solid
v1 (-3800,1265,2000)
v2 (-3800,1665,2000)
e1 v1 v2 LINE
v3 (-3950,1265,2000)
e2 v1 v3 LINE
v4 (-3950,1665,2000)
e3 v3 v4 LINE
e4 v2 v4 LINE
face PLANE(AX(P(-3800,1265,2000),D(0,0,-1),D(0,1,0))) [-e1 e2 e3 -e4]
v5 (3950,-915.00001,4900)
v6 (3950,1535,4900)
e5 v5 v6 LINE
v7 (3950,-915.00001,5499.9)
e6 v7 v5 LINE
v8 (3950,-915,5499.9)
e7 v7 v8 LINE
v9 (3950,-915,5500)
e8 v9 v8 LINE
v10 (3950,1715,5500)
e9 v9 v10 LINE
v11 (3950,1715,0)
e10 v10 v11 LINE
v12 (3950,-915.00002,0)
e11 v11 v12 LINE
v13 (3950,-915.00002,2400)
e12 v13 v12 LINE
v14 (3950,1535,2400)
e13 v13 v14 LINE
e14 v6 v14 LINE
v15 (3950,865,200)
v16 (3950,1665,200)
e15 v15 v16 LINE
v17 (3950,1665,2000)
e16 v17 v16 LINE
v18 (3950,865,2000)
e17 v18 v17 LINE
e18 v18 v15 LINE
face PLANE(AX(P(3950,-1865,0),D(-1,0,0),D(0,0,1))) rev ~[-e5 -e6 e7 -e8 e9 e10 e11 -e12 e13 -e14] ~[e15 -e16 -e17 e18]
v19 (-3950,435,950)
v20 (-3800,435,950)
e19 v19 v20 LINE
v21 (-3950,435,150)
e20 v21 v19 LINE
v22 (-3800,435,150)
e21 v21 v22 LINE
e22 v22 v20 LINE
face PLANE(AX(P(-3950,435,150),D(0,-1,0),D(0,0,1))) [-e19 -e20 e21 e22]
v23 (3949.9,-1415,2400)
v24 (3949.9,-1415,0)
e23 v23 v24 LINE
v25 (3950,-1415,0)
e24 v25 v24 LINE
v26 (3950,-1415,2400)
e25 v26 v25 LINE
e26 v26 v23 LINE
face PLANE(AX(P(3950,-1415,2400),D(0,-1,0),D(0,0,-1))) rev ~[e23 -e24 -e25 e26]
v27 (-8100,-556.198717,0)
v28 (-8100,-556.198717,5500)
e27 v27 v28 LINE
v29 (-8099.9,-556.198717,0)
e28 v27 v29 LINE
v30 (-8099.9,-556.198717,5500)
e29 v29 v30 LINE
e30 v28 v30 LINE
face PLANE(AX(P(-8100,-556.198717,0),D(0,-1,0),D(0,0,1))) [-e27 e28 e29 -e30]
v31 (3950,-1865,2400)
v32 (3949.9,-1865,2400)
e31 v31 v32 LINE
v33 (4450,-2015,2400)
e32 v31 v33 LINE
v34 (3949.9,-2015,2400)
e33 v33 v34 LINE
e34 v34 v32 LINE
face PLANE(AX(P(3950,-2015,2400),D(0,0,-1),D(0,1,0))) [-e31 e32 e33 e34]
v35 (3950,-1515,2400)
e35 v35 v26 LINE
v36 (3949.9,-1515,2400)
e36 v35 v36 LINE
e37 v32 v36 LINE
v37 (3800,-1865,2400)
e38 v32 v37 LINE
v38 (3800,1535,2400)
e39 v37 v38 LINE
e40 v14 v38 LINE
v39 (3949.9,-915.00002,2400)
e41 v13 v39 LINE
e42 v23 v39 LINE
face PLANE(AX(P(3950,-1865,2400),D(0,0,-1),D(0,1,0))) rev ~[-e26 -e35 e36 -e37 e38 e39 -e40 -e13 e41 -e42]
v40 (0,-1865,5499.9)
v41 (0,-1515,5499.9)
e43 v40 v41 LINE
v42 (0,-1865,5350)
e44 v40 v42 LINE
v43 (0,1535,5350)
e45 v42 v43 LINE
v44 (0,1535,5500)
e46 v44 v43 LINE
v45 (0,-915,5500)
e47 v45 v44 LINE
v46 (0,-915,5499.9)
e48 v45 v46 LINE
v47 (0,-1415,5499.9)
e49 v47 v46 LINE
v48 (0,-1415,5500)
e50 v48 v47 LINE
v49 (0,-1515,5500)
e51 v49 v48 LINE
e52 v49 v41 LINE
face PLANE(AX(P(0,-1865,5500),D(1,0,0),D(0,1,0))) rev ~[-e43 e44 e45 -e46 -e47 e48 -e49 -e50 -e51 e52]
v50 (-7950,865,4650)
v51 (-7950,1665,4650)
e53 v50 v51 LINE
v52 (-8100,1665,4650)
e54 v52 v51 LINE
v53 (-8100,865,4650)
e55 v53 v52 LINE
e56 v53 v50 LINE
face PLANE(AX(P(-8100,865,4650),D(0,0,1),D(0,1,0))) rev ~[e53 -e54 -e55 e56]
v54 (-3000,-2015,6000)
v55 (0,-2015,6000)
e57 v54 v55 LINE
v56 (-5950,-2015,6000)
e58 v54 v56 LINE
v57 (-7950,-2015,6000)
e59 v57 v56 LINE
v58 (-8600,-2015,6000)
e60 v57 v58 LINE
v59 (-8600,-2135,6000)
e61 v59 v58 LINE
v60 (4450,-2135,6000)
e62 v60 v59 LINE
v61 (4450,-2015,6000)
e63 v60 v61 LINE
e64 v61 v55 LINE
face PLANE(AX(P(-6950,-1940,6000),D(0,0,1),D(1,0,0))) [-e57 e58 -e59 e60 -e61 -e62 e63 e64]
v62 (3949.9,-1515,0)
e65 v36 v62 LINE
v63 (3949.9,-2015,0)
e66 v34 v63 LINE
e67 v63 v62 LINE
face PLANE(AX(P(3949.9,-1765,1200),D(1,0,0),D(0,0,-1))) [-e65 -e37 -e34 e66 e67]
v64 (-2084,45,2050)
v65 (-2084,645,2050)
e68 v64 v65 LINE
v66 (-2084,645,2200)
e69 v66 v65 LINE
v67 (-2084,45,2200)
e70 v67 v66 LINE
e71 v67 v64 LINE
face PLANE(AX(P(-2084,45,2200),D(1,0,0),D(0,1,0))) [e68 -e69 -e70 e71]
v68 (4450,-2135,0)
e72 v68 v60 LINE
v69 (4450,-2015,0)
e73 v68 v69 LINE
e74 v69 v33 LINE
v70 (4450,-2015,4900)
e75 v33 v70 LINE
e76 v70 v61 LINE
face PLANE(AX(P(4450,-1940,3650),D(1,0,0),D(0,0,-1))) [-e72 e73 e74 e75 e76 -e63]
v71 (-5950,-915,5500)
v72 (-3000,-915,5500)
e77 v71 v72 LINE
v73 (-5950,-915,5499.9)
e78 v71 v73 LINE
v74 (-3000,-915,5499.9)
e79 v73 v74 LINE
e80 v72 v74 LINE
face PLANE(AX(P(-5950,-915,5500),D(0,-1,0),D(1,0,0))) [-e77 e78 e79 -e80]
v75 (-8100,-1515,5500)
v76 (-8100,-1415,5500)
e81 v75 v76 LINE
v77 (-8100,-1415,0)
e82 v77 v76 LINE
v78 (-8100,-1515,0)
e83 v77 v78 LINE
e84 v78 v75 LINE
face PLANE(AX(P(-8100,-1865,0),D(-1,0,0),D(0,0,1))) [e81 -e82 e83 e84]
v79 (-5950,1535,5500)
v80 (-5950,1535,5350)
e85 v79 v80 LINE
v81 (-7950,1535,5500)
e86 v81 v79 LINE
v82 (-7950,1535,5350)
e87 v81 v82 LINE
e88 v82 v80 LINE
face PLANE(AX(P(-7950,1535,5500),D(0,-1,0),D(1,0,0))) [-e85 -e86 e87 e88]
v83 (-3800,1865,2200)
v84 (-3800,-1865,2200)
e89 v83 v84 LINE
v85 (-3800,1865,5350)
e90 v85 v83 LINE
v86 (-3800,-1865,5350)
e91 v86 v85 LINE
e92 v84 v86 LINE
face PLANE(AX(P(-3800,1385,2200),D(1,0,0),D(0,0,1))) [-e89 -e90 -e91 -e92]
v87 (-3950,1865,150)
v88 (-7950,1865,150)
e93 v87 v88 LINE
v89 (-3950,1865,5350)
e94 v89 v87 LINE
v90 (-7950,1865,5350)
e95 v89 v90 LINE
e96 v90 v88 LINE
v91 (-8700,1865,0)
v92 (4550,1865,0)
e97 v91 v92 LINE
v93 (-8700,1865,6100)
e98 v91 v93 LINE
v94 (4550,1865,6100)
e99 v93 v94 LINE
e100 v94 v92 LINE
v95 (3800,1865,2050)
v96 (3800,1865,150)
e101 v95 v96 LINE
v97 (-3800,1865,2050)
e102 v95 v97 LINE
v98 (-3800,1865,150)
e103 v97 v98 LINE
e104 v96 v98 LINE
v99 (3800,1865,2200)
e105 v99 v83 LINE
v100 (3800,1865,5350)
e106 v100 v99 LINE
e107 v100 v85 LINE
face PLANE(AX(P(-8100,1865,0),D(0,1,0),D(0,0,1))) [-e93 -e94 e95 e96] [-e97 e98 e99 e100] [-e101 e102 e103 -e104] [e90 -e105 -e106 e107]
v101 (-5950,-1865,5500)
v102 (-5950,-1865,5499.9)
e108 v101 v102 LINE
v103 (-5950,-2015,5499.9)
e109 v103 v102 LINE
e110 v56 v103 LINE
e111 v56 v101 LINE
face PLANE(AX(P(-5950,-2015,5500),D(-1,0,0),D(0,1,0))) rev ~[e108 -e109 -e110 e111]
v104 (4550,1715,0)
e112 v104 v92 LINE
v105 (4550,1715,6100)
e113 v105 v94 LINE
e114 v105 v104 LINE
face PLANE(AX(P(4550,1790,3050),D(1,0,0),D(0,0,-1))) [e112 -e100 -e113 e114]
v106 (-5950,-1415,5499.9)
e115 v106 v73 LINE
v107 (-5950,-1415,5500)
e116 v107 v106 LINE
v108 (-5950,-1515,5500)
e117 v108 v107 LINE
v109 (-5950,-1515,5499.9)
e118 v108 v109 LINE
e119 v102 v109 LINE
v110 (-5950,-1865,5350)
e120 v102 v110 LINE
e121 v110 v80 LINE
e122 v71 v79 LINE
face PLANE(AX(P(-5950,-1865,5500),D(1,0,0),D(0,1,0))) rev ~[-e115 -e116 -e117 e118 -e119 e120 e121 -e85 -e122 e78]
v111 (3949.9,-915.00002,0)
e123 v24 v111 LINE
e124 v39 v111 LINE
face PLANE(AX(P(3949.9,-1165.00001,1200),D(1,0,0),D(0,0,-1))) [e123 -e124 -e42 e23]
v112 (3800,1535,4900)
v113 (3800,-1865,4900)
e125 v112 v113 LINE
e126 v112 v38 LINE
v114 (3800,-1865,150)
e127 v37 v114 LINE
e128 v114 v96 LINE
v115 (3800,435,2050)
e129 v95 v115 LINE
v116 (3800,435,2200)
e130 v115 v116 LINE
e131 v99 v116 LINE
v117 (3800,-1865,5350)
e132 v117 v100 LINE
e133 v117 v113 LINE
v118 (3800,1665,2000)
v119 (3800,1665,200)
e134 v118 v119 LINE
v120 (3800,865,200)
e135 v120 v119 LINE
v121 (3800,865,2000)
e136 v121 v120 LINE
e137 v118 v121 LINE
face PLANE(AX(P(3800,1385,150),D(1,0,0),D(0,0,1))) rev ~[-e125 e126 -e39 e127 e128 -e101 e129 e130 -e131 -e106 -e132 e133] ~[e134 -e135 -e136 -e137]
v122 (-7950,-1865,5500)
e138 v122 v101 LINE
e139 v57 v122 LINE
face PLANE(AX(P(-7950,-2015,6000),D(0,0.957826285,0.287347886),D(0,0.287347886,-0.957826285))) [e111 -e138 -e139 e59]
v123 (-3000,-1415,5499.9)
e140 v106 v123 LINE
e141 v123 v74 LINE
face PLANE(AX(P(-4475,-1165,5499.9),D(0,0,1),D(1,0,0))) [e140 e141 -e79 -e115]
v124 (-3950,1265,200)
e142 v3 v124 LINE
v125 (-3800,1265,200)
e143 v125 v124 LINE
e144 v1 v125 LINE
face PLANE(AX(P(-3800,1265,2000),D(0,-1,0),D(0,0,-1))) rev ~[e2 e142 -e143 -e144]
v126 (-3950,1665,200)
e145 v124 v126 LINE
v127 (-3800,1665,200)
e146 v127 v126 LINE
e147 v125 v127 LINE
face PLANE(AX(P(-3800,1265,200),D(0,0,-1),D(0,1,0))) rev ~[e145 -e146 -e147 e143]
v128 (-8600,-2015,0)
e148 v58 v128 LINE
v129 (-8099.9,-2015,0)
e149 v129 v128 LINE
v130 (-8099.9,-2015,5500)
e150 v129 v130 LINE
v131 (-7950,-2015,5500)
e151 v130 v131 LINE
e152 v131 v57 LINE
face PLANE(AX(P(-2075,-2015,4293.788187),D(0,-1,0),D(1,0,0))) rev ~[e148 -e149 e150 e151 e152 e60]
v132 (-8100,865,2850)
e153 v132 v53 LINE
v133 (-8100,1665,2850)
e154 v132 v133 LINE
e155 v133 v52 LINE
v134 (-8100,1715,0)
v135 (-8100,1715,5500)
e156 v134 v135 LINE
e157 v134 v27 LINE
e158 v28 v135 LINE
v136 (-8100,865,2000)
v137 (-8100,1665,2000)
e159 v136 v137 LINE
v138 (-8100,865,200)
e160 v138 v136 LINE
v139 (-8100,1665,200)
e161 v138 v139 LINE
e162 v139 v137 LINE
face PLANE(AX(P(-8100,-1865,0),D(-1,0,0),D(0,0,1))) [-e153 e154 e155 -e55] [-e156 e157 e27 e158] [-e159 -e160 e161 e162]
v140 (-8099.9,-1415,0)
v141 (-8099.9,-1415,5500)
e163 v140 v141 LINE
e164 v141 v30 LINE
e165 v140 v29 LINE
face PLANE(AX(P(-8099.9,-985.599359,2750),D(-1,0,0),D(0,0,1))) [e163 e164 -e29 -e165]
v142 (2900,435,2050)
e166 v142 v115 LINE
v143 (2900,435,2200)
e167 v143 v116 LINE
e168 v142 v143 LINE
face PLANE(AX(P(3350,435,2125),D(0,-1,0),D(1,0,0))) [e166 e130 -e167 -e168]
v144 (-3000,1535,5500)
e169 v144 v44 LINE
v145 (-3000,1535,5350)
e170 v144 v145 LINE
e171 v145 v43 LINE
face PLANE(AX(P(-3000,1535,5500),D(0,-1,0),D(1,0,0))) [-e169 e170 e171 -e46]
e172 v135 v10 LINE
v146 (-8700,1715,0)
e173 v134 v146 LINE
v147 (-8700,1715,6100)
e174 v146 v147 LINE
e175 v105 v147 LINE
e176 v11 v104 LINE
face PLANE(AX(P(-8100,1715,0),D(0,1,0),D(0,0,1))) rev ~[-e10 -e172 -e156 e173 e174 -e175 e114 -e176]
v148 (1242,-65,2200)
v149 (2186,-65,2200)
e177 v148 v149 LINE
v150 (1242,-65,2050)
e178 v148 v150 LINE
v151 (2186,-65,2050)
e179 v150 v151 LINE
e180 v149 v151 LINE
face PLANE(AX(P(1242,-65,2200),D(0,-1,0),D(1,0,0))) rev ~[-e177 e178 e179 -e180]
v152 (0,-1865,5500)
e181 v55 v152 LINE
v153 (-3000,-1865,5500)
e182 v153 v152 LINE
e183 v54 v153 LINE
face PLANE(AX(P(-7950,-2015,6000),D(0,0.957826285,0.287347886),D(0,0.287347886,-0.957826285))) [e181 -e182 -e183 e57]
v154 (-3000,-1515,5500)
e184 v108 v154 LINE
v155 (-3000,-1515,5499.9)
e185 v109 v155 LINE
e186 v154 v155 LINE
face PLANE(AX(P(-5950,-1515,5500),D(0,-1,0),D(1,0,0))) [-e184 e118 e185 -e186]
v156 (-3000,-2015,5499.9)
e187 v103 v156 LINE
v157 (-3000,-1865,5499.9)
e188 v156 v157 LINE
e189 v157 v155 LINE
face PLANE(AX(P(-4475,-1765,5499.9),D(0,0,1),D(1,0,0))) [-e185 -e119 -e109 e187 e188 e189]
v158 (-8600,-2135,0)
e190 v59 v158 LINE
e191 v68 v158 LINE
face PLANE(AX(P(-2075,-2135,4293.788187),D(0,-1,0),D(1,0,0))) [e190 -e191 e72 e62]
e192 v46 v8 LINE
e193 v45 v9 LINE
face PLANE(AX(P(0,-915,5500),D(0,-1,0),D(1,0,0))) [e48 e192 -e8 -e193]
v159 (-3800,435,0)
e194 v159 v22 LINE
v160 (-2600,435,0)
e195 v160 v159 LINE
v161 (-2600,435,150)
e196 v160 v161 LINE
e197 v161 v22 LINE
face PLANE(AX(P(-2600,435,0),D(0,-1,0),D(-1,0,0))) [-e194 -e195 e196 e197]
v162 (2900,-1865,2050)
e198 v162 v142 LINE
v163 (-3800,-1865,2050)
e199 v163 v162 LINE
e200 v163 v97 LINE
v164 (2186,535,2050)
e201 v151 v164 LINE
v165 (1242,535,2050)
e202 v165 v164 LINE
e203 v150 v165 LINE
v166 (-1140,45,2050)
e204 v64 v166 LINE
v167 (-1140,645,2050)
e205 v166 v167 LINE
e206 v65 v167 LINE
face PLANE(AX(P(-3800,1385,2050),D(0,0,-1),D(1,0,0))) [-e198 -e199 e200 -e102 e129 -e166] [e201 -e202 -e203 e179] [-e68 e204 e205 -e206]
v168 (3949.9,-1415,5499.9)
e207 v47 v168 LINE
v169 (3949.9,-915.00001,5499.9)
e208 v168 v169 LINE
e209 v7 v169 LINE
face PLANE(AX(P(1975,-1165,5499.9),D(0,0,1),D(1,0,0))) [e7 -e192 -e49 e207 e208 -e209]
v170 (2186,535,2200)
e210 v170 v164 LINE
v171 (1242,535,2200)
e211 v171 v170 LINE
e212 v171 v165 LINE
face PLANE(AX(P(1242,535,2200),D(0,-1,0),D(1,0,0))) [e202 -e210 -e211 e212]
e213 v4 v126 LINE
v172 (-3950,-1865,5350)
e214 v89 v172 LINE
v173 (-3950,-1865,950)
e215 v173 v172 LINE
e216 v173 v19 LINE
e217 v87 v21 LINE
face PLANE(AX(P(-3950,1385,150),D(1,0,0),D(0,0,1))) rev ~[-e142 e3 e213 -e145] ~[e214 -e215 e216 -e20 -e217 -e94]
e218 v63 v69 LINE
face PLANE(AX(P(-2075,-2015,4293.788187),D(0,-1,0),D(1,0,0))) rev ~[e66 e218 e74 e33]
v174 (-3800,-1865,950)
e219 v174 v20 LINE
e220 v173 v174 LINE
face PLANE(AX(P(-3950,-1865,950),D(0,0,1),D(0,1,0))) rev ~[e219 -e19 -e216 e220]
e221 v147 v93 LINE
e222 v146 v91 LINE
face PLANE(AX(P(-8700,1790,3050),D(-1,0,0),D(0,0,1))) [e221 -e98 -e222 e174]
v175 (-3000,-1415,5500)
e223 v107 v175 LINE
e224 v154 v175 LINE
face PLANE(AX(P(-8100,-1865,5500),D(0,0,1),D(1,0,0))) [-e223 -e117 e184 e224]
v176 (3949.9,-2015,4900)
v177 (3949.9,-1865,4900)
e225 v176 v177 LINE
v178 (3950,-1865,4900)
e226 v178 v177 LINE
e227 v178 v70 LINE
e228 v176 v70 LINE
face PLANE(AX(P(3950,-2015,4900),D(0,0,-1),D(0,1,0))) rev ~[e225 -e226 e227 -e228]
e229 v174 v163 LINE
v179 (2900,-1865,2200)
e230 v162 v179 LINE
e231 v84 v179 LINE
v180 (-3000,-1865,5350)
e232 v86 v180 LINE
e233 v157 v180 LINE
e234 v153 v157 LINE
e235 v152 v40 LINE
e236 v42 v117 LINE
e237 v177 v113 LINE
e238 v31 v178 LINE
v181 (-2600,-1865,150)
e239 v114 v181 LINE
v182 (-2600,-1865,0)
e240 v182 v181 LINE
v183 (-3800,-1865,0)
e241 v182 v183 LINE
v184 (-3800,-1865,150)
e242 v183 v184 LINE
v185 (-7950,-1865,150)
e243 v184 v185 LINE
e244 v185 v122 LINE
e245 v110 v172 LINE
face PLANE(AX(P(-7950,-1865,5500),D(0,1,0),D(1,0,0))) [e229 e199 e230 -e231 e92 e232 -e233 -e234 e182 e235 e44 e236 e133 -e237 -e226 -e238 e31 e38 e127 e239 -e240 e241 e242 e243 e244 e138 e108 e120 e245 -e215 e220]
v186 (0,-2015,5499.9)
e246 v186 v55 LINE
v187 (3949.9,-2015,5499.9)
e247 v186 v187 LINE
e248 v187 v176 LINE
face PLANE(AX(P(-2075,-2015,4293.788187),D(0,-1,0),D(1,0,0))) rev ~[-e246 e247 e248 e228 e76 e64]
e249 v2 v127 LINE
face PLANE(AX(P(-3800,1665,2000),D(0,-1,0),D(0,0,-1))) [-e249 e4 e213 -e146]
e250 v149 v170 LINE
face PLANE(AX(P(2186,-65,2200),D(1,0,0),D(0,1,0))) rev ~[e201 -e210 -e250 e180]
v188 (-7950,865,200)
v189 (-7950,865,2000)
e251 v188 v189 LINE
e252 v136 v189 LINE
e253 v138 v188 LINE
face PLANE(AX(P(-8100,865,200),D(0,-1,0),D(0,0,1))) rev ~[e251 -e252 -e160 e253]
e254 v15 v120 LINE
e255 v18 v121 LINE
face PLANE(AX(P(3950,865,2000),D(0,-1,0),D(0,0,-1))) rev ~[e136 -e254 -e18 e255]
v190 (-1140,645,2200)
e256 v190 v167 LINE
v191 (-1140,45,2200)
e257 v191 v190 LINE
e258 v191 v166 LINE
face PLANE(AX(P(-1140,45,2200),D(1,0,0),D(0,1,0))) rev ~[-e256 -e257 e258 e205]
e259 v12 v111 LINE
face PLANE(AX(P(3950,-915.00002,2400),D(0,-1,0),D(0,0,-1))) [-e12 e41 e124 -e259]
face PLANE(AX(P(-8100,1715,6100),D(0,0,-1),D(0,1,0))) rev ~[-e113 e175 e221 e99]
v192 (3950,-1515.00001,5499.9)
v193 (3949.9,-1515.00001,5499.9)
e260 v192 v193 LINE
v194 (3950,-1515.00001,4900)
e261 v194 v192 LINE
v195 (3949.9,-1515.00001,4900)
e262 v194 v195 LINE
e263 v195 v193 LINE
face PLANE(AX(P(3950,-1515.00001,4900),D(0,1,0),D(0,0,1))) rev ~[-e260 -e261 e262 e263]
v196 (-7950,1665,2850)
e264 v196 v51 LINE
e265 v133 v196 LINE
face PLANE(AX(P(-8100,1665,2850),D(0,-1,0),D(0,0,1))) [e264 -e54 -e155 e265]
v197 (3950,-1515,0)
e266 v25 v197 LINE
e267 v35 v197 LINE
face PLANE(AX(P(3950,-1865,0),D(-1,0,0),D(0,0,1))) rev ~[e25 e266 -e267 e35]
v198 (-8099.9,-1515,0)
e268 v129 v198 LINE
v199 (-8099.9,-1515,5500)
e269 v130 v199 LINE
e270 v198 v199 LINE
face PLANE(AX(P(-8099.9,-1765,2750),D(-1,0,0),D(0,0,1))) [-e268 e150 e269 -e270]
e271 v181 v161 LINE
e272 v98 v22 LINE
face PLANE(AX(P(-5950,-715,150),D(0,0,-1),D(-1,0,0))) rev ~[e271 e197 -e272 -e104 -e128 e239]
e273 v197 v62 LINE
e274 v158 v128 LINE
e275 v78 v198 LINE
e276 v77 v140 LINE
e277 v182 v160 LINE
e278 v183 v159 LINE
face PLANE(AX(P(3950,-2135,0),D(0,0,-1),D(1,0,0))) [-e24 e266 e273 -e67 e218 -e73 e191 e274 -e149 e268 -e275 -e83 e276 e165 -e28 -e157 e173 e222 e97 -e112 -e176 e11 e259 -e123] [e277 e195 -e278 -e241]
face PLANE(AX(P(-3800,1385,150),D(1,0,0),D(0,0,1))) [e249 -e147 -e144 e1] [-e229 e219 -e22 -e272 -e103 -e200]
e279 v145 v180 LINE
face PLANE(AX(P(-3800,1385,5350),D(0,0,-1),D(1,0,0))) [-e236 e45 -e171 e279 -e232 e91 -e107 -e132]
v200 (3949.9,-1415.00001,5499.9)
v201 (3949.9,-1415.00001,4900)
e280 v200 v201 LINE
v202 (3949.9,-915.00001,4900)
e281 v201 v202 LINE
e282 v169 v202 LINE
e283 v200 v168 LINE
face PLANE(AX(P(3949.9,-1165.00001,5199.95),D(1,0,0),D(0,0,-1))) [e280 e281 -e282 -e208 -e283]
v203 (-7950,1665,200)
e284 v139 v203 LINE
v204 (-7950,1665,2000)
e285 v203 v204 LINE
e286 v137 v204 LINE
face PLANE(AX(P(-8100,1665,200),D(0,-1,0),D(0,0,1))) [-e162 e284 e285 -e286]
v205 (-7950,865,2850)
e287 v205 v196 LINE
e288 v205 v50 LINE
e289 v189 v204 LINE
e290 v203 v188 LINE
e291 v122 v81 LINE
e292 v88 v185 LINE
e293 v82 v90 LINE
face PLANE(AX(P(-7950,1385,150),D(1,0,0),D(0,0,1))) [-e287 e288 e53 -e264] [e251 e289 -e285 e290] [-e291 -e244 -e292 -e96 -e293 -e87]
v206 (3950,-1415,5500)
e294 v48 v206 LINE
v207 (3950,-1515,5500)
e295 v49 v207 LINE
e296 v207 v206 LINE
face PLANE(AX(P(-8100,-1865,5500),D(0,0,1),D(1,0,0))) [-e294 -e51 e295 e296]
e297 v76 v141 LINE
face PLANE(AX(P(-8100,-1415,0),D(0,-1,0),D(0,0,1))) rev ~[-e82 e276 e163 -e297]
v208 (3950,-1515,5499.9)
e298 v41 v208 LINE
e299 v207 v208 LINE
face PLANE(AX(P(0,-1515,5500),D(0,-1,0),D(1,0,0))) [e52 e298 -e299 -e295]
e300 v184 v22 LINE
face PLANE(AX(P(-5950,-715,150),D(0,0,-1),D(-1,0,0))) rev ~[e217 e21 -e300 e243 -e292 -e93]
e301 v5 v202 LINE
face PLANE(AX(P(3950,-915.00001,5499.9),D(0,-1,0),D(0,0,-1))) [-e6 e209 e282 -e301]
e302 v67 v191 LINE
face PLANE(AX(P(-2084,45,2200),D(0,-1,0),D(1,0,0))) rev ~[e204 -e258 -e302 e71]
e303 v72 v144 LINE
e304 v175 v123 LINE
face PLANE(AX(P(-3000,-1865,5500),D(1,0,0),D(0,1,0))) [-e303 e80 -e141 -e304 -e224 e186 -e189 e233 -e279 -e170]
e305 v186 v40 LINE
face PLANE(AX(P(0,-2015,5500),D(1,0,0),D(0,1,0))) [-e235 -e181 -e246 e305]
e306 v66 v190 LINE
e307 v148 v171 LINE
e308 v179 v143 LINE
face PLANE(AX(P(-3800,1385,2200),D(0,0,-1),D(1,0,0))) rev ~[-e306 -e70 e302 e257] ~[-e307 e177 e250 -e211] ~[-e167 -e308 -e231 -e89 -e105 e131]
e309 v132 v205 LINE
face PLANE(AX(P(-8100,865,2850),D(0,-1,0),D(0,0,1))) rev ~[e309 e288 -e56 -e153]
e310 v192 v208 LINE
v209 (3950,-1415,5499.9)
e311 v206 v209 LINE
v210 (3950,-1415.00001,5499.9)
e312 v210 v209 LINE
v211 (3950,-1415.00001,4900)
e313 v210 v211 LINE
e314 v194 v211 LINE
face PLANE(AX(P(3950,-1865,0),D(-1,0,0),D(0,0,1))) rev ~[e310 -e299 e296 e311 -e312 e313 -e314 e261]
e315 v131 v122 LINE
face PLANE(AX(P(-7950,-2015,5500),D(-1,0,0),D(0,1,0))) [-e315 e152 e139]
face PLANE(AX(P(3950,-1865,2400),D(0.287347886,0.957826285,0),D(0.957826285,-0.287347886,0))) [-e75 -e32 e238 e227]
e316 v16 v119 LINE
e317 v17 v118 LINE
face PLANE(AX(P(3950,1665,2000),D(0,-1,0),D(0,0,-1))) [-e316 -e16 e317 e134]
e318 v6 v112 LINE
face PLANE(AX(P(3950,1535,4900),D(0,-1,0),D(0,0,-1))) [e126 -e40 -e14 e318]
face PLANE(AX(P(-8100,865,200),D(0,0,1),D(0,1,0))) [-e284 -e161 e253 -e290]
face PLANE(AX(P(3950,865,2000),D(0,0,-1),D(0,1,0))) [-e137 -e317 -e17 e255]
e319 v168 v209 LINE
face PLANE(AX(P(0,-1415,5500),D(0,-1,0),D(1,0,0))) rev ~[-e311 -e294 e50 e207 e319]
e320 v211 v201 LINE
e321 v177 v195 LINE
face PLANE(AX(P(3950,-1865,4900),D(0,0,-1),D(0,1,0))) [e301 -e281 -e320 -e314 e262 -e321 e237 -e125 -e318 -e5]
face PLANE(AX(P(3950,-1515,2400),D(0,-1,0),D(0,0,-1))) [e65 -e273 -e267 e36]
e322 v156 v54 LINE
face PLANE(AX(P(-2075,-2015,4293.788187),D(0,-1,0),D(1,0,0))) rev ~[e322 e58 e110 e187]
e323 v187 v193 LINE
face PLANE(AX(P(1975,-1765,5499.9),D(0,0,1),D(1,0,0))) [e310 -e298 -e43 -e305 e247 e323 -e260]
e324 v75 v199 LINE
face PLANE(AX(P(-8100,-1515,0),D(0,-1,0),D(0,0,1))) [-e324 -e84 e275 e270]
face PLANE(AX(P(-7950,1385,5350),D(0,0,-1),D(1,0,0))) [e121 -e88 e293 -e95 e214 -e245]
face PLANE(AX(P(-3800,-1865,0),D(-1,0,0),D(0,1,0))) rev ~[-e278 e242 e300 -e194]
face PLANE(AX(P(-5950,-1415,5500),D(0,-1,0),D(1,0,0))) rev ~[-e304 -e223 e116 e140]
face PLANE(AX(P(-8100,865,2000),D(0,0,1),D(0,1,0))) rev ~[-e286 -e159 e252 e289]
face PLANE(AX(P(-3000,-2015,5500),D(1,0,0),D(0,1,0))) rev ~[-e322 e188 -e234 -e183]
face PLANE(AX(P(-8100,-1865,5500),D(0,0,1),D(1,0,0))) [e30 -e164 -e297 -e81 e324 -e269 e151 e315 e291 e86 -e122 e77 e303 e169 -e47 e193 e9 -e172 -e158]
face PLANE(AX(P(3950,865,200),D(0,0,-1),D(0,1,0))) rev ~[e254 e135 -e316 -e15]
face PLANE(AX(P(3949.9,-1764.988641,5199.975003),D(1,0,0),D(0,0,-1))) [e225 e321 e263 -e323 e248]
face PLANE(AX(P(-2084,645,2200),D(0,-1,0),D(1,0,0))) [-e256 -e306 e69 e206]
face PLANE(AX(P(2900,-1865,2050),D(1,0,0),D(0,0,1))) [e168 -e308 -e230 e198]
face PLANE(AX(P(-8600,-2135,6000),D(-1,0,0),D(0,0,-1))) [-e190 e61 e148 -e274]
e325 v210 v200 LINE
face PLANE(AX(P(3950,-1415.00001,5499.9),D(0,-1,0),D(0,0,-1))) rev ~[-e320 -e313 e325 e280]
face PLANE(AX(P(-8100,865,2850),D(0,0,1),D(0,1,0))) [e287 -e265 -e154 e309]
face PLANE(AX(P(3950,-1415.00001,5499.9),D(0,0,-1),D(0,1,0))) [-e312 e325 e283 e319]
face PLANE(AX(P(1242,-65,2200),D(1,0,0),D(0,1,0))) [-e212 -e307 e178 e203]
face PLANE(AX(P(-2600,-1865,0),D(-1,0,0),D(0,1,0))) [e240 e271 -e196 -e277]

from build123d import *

# Parameters (mm, degrees)
CROQUIS1_W               = 7900
CROQUIS1_H               = 3730
SALIENTE_EXTRUIR1_DEPTH  = 5500
CROQUIS2_W               = 7600
CROQUIS2_H               = 5200
CORTAR_EXTRUIR1_DEPTH    = 3250
CROQUIS3_W               = 7600
CROQUIS3_H               = 150
SALIENTE_EXTRUIR2_DEPTH  = 3250
CROQUIS4_W               = 800
CROQUIS4_H               = 2300
CORTAR_EXTRUIR2_DEPTH    = 150
CROQUIS7_W               = 5500
CROQUIS7_H               = 3730
SALIENTE_EXTRUIR4_DEPTH  = 4150
CROQUIS8_W               = 4000
CROQUIS8_H               = 5200
CORTAR_EXTRUIR3_DEPTH    = 3250
CROQUIS10_W              = 900
CROQUIS10_H              = 150
CORTAR_EXTRUIR5_DEPTH    = 2300
CROQUIS11_W              = 2500
CROQUIS11_H              = 3400
CORTAR_EXTRUIR6_DEPTH    = 150
CROQUIS12_W              = 1800
CROQUIS12_H              = 800
CORTAR_EXTRUIR7_DEPTH    = 150
CROQUIS13_W              = 3000
CROQUIS13_H              = 3400
CORTAR_EXTRUIR8_DEPTH    = 150
CROQUIS15_W              = 1800
CROQUIS15_H              = 800
CORTAR_EXTRUIR10_DEPTH   = 150
CROQUIS16_W              = 2000
CROQUIS16_H              = 2300
CORTAR_EXTRUIR11_DEPTH   = 150
CROQUIS17_W              = 12050
CROQUIS17_H              = 150
SALIENTE_EXTRUIR5_DEPTH  = 600
CROQUIS18_W              = 6100
CROQUIS18_H              = 150
SALIENTE_EXTRUIR6_DEPTH  = 600
CROQUIS19_W              = 6100
CROQUIS19_H              = 150
SALIENTE_EXTRUIR7_DEPTH  = 600
CROQUIS20_W              = 7600
CROQUIS20_H              = 1900
CROQUIS20_H_2            = 3150
CROQUIS20_W_2            = 4000
CROQUIS20_H_3            = 5200
CORTAR_EXTRUIR12_DEPTH   = 1280
CROQUIS21_W              = 2000
CROQUIS21_H              = 3400
CORTAR_EXTRUIR13_DEPTH   = 150
CROQUIS24_W              = 2000
CROQUIS24_H              = 2300
SALIENTE_EXTRUIR11_DEPTH = 150
CROQUIS25_W              = 1800
CROQUIS25_H              = 400
CORTAR_EXTRUIR14_DEPTH   = 170
CROQUIS26_W              = 12050
CROQUIS26_H              = 5500
SALIENTE_EXTRUIR12_DEPTH = 270
SALIENTE_EXTRUIR13_DEPTH = 120
CROQUIS33_W              = 2500
CROQUIS33_H              = 150
SALIENTE_EXTRUIR19_DEPTH = 500
CROQUIS34_W              = 2000
CROQUIS34_H              = 150
CROQUIS34_W_2            = 3000
SALIENTE_EXTRUIR20_DEPTH = 500
CORTAR_EXTRUIR15_DEPTH   = 7950
CORTAR_EXTRUIR16_DEPTH   = 2500
CROQUIS37_W              = 5500
CROQUIS37_H              = 500
CORTAR_EXTRUIR17_DEPTH   = 0.1
CROQUIS38_W              = 2950
CROQUIS38_H              = 500
CROQUIS38_W_2            = 3950
CORTAR_EXTRUIR18_DEPTH   = 0.1
CROQUIS40_W              = 2400
CROQUIS40_H              = 500
CORTAR_EXTRUIR21_DEPTH   = 0.1
CROQUIS42_W              = 5500
CROQUIS42_H              = 858.801282929
CORTAR_EXTRUIR24_DEPTH   = 0.1
CROQUIS43_W              = 2950
CROQUIS43_H              = 500
CROQUIS43_W_2            = 3950
CORTAR_EXTRUIR25_DEPTH   = 0.1
CROQUIS44_W              = 599.9
CROQUIS44_H              = 500
CROQUIS44_W_2            = 2400
CROQUIS44_H_2            = 499.99998
CORTAR_EXTRUIR26_DEPTH   = 0.1
CROQUIS47_W              = 1200
CROQUIS47_H              = 2300
CORTAR_EXTRUIR28_DEPTH   = 150
CROQUIS48_W              = 1800
CROQUIS48_H              = 800
CORTAR_EXTRUIR29_DEPTH   = 150
CROQUIS50_W              = 944
CROQUIS50_H              = 600
CORTAR_EXTRUIR30_DEPTH   = 150


with BuildPart() as part:
    # Croquis1 → Saliente-Extruir1 (new body)
    with BuildSketch(Plane.XY):
        Rectangle(CROQUIS1_W, CROQUIS1_H)
    extrude(amount=SALIENTE_EXTRUIR1_DEPTH)

    # Croquis2 → Cortar-Extruir1 (cut)
    with BuildSketch(Plane.XZ.offset(1865)):
        with Locations((0, 2750)):
            Rectangle(CROQUIS2_W, CROQUIS2_H)
    extrude(amount=-CORTAR_EXTRUIR1_DEPTH, mode=Mode.SUBTRACT)

    # Croquis3 → Saliente-Extruir2 (add)
    with BuildSketch(Plane.XZ.offset(1865)):
        with Locations((0, 2125)):
            Rectangle(CROQUIS3_W, CROQUIS3_H)
    extrude(amount=-SALIENTE_EXTRUIR2_DEPTH)

    # Croquis4 → Cortar-Extruir2 (cut)
    with BuildSketch(Plane.ZY.offset(3950)):
        with Locations((550, -715)):
            Rectangle(CROQUIS4_W, CROQUIS4_H)
    extrude(amount=-CORTAR_EXTRUIR2_DEPTH, mode=Mode.SUBTRACT)

    # Croquis7 → Saliente-Extruir4 (add)
    with BuildSketch(Plane.ZY.offset(3950)):
        with Locations((2750, 0)):
            Rectangle(CROQUIS7_W, CROQUIS7_H)
    extrude(amount=SALIENTE_EXTRUIR4_DEPTH)

    # Croquis8 → Cortar-Extruir3 (cut)
    with BuildSketch(Plane.XZ.offset(1865)):
        with Locations((-5950, 2750)):
            Rectangle(CROQUIS8_W, CROQUIS8_H)
    extrude(amount=-CORTAR_EXTRUIR3_DEPTH, mode=Mode.SUBTRACT)

    # Croquis10 → Cortar-Extruir5 (cut)
    with BuildSketch(Plane.XZ.offset(1865)):
        with Locations((3350, 2125)):
            Rectangle(CROQUIS10_W, CROQUIS10_H)
    extrude(amount=-CORTAR_EXTRUIR5_DEPTH, mode=Mode.SUBTRACT)

    # Croquis11 → Cortar-Extruir6 (cut)
    with BuildSketch(Plane(origin=(3950, 0, 0), x_dir=(0, 0, -1), z_dir=(1, 0, 0))):
        with Locations((-3650, -165)):
            Rectangle(CROQUIS11_W, CROQUIS11_H)
    extrude(amount=-CORTAR_EXTRUIR6_DEPTH, mode=Mode.SUBTRACT)

    # Croquis12 → Cortar-Extruir7 (cut)
    with BuildSketch(Plane(origin=(3950, 0, 0), x_dir=(0, 0, -1), z_dir=(1, 0, 0))):
        with Locations((-1100, 1265)):
            Rectangle(CROQUIS12_W, CROQUIS12_H)
    extrude(amount=-CORTAR_EXTRUIR7_DEPTH, mode=Mode.SUBTRACT)

    # Croquis13 → Cortar-Extruir8 (cut)
    with BuildSketch(Plane.XY.offset(5500)):
        with Locations((-1500, -165)):
            Rectangle(CROQUIS13_W, CROQUIS13_H)
    extrude(amount=-CORTAR_EXTRUIR8_DEPTH, mode=Mode.SUBTRACT)

    # Croquis15 → Cortar-Extruir10 (cut)
    with BuildSketch(Plane.ZY.offset(8100)):
        with Locations((1100, 1265)):
            Rectangle(CROQUIS15_W, CROQUIS15_H)
    extrude(amount=-CORTAR_EXTRUIR10_DEPTH, mode=Mode.SUBTRACT)

    # Croquis16 → Cortar-Extruir11 (cut)
    with BuildSketch(Plane(origin=(0, 0, 0), x_dir=(-1, 0, 0), z_dir=(0, 0, -1))):
        with Locations((5950, -715)):
            Rectangle(CROQUIS16_W, CROQUIS16_H)
    extrude(amount=-CORTAR_EXTRUIR11_DEPTH, mode=Mode.SUBTRACT)

    # Croquis17 → Saliente-Extruir5 (add)
    with BuildSketch(Plane.XY.offset(5500)):
        with Locations((-2075, 1790)):
            Rectangle(CROQUIS17_W, CROQUIS17_H)
    extrude(amount=SALIENTE_EXTRUIR5_DEPTH)

    # Croquis18 → Saliente-Extruir6 (add)
    with BuildSketch(Plane(origin=(3950, 0, 0), x_dir=(0, 0, -1), z_dir=(1, 0, 0))):
        with Locations((-3050, 1790)):
            Rectangle(CROQUIS18_W, CROQUIS18_H)
    extrude(amount=SALIENTE_EXTRUIR6_DEPTH)

    # Croquis19 → Saliente-Extruir7 (add)
    with BuildSketch(Plane.ZY.offset(8100)):
        with Locations((3050, 1790)):
            Rectangle(CROQUIS19_W, CROQUIS19_H)
    extrude(amount=SALIENTE_EXTRUIR7_DEPTH)

    # Croquis20 → Cortar-Extruir12 (cut)
    with BuildSketch(Plane.XZ.offset(-1385)):
        with Locations((0, 1100)):
            Rectangle(CROQUIS20_W, CROQUIS20_H)
        with Locations((0, 3775)):
            Rectangle(CROQUIS20_W, CROQUIS20_H_2)
        with Locations((-5950, 2750)):
            Rectangle(CROQUIS20_W_2, CROQUIS20_H_3)
    extrude(amount=-CORTAR_EXTRUIR12_DEPTH, mode=Mode.SUBTRACT)

    # Croquis21 → Cortar-Extruir13 (cut)
    with BuildSketch(Plane.XY.offset(5500)):
        with Locations((-6950, -165)):
            Rectangle(CROQUIS21_W, CROQUIS21_H)
    extrude(amount=-CORTAR_EXTRUIR13_DEPTH, mode=Mode.SUBTRACT)

    # Croquis24 → Saliente-Extruir11 (add)
    with BuildSketch(Plane(origin=(0, 0, 0), x_dir=(-1, 0, 0), z_dir=(0, 0, -1))):
        with Locations((5950, -715)):
            Rectangle(CROQUIS24_W, CROQUIS24_H)
    extrude(amount=-SALIENTE_EXTRUIR11_DEPTH)

    # Croquis25 → Cortar-Extruir14 (cut)
    with BuildSketch(Plane(origin=(-3800, 0, 0), x_dir=(0, 0, -1), z_dir=(1, 0, 0))):
        with Locations((-1100, 1465)):
            Rectangle(CROQUIS25_W, CROQUIS25_H)
    extrude(amount=-CORTAR_EXTRUIR14_DEPTH, mode=Mode.SUBTRACT)

    # Croquis26 → Saliente-Extruir12 (add)
    with BuildSketch(Plane.XZ.offset(1865)):
        with Locations((-2075, 2750)):
            Rectangle(CROQUIS26_W, CROQUIS26_H)
    extrude(amount=SALIENTE_EXTRUIR12_DEPTH)



with BuildPart() as body_2:
    # Croquis27 → Saliente-Extruir13 (new body)
    with BuildSketch(Plane.XZ.offset(2135)):
        Polygon((-8100, 0), (-8100, 5500), (3950, 5500), (3950, 0), (4450, 0), (4450, 6000), (-8600, 6000), (-8600, 0), align=None)
    extrude(amount=-SALIENTE_EXTRUIR13_DEPTH)


with BuildPart() as part_1:
    add(part.part)

    add(body_2.part)  # Saliente-Extruir19 merges body 2
    # Croquis33 → Saliente-Extruir19 (add)
    with BuildSketch(Plane(origin=(3950, 0, 0), x_dir=(0, 0, -1), z_dir=(1, 0, 0))):
        with Locations((-3650, -1940)):
            Rectangle(CROQUIS33_W, CROQUIS33_H)
    extrude(amount=SALIENTE_EXTRUIR19_DEPTH)

    # Croquis34 → Saliente-Extruir20 (add)
    with BuildSketch(Plane.XY.offset(5500)):
        with Locations((-6950, -1940)):
            Rectangle(CROQUIS34_W, CROQUIS34_H)
        with Locations((-1500, -1940)):
            Rectangle(CROQUIS34_W_2, CROQUIS34_H)
    extrude(amount=SALIENTE_EXTRUIR20_DEPTH)

    # Croquis35 → Cortar-Extruir15 (cut)
    with BuildSketch(Plane.ZY.offset(7950)):
        Polygon((6000, -2015), (5500, -1865), (6000, -1865), align=None)
    extrude(amount=-CORTAR_EXTRUIR15_DEPTH, mode=Mode.SUBTRACT)

    # Croquis36 → Cortar-Extruir16 (cut)
    with BuildSketch(Plane(origin=(0, 0, 2400), x_dir=(-1, 0, 0), z_dir=(0, 0, -1))):
        Polygon((-4450, -1865), (-3950, -1865), (-4450, -2015), align=None)
    extrude(amount=-CORTAR_EXTRUIR16_DEPTH, mode=Mode.SUBTRACT)

    # Croquis37 → Cortar-Extruir17 (cut)
    with BuildSketch(Plane.ZY.offset(8100)):
        with Locations((2750, -1765)):
            Rectangle(CROQUIS37_W, CROQUIS37_H)
    extrude(amount=-CORTAR_EXTRUIR17_DEPTH, mode=Mode.SUBTRACT)

    # Croquis38 → Cortar-Extruir18 (cut)
    with BuildSketch(Plane.XY.offset(5500)):
        with Locations((-4475, -1765)):
            Rectangle(CROQUIS38_W, CROQUIS38_H)
        with Locations((1975, -1765)):
            Rectangle(CROQUIS38_W_2, CROQUIS38_H)
    extrude(amount=-CORTAR_EXTRUIR18_DEPTH, mode=Mode.SUBTRACT)

    # Croquis40 → Cortar-Extruir21 (cut)
    with BuildSketch(Plane(origin=(3950, 0, 0), x_dir=(0, 0, -1), z_dir=(1, 0, 0))):
        with Locations((-1200, -1765)):
            Rectangle(CROQUIS40_W, CROQUIS40_H)
        Polygon((-4900, -2015), (-4900, -1515.00001), (-5500, -1515.00001), (-5499.9, -2015), align=None)
    extrude(amount=-CORTAR_EXTRUIR21_DEPTH, mode=Mode.SUBTRACT)

    # Croquis42 → Cortar-Extruir24 (cut)
    with BuildSketch(Plane.ZY.offset(8100)):
        with Locations((2750, -985.599358535)):
            Rectangle(CROQUIS42_W, CROQUIS42_H)
    extrude(amount=-CORTAR_EXTRUIR24_DEPTH, mode=Mode.SUBTRACT)

    # Croquis43 → Cortar-Extruir25 (cut)
    with BuildSketch(Plane.XY.offset(5500)):
        with Locations((-4475, -1165)):
            Rectangle(CROQUIS43_W, CROQUIS43_H)
        with Locations((1975, -1165)):
            Rectangle(CROQUIS43_W_2, CROQUIS43_H)
    extrude(amount=-CORTAR_EXTRUIR25_DEPTH, mode=Mode.SUBTRACT)

    # Croquis44 → Cortar-Extruir26 (cut)
    with BuildSketch(Plane(origin=(3950, 0, 0), x_dir=(0, 0, -1), z_dir=(1, 0, 0))):
        with Locations((-5199.95, -1165.00001)):
            Rectangle(CROQUIS44_W, CROQUIS44_H)
        with Locations((-1200, -1165.00001)):
            Rectangle(CROQUIS44_W_2, CROQUIS44_H_2)
    extrude(amount=-CORTAR_EXTRUIR26_DEPTH, mode=Mode.SUBTRACT)

    # Croquis47 → Cortar-Extruir28 (cut)
    with BuildSketch(Plane(origin=(0, 0, 0), x_dir=(-1, 0, 0), z_dir=(0, 0, -1))):
        with Locations((3200, -715)):
            Rectangle(CROQUIS47_W, CROQUIS47_H)
    extrude(amount=-CORTAR_EXTRUIR28_DEPTH, mode=Mode.SUBTRACT)

    # Croquis48 → Cortar-Extruir29 (cut)
    with BuildSketch(Plane.ZY.offset(8100)):
        with Locations((3750, 1265)):
            Rectangle(CROQUIS48_W, CROQUIS48_H)
    extrude(amount=-CORTAR_EXTRUIR29_DEPTH, mode=Mode.SUBTRACT)

    # Croquis50 → Cortar-Extruir30 (cut)
    with BuildSketch(Plane.XY.offset(2200)):
        with Locations((-1612, 345)):
            Rectangle(CROQUIS50_W, CROQUIS50_H)
        with Locations((1714, 235)):
            Rectangle(CROQUIS50_W, CROQUIS50_H)
    extrude(amount=-CORTAR_EXTRUIR30_DEPTH, mode=Mode.SUBTRACT)


solid = part_1.part
